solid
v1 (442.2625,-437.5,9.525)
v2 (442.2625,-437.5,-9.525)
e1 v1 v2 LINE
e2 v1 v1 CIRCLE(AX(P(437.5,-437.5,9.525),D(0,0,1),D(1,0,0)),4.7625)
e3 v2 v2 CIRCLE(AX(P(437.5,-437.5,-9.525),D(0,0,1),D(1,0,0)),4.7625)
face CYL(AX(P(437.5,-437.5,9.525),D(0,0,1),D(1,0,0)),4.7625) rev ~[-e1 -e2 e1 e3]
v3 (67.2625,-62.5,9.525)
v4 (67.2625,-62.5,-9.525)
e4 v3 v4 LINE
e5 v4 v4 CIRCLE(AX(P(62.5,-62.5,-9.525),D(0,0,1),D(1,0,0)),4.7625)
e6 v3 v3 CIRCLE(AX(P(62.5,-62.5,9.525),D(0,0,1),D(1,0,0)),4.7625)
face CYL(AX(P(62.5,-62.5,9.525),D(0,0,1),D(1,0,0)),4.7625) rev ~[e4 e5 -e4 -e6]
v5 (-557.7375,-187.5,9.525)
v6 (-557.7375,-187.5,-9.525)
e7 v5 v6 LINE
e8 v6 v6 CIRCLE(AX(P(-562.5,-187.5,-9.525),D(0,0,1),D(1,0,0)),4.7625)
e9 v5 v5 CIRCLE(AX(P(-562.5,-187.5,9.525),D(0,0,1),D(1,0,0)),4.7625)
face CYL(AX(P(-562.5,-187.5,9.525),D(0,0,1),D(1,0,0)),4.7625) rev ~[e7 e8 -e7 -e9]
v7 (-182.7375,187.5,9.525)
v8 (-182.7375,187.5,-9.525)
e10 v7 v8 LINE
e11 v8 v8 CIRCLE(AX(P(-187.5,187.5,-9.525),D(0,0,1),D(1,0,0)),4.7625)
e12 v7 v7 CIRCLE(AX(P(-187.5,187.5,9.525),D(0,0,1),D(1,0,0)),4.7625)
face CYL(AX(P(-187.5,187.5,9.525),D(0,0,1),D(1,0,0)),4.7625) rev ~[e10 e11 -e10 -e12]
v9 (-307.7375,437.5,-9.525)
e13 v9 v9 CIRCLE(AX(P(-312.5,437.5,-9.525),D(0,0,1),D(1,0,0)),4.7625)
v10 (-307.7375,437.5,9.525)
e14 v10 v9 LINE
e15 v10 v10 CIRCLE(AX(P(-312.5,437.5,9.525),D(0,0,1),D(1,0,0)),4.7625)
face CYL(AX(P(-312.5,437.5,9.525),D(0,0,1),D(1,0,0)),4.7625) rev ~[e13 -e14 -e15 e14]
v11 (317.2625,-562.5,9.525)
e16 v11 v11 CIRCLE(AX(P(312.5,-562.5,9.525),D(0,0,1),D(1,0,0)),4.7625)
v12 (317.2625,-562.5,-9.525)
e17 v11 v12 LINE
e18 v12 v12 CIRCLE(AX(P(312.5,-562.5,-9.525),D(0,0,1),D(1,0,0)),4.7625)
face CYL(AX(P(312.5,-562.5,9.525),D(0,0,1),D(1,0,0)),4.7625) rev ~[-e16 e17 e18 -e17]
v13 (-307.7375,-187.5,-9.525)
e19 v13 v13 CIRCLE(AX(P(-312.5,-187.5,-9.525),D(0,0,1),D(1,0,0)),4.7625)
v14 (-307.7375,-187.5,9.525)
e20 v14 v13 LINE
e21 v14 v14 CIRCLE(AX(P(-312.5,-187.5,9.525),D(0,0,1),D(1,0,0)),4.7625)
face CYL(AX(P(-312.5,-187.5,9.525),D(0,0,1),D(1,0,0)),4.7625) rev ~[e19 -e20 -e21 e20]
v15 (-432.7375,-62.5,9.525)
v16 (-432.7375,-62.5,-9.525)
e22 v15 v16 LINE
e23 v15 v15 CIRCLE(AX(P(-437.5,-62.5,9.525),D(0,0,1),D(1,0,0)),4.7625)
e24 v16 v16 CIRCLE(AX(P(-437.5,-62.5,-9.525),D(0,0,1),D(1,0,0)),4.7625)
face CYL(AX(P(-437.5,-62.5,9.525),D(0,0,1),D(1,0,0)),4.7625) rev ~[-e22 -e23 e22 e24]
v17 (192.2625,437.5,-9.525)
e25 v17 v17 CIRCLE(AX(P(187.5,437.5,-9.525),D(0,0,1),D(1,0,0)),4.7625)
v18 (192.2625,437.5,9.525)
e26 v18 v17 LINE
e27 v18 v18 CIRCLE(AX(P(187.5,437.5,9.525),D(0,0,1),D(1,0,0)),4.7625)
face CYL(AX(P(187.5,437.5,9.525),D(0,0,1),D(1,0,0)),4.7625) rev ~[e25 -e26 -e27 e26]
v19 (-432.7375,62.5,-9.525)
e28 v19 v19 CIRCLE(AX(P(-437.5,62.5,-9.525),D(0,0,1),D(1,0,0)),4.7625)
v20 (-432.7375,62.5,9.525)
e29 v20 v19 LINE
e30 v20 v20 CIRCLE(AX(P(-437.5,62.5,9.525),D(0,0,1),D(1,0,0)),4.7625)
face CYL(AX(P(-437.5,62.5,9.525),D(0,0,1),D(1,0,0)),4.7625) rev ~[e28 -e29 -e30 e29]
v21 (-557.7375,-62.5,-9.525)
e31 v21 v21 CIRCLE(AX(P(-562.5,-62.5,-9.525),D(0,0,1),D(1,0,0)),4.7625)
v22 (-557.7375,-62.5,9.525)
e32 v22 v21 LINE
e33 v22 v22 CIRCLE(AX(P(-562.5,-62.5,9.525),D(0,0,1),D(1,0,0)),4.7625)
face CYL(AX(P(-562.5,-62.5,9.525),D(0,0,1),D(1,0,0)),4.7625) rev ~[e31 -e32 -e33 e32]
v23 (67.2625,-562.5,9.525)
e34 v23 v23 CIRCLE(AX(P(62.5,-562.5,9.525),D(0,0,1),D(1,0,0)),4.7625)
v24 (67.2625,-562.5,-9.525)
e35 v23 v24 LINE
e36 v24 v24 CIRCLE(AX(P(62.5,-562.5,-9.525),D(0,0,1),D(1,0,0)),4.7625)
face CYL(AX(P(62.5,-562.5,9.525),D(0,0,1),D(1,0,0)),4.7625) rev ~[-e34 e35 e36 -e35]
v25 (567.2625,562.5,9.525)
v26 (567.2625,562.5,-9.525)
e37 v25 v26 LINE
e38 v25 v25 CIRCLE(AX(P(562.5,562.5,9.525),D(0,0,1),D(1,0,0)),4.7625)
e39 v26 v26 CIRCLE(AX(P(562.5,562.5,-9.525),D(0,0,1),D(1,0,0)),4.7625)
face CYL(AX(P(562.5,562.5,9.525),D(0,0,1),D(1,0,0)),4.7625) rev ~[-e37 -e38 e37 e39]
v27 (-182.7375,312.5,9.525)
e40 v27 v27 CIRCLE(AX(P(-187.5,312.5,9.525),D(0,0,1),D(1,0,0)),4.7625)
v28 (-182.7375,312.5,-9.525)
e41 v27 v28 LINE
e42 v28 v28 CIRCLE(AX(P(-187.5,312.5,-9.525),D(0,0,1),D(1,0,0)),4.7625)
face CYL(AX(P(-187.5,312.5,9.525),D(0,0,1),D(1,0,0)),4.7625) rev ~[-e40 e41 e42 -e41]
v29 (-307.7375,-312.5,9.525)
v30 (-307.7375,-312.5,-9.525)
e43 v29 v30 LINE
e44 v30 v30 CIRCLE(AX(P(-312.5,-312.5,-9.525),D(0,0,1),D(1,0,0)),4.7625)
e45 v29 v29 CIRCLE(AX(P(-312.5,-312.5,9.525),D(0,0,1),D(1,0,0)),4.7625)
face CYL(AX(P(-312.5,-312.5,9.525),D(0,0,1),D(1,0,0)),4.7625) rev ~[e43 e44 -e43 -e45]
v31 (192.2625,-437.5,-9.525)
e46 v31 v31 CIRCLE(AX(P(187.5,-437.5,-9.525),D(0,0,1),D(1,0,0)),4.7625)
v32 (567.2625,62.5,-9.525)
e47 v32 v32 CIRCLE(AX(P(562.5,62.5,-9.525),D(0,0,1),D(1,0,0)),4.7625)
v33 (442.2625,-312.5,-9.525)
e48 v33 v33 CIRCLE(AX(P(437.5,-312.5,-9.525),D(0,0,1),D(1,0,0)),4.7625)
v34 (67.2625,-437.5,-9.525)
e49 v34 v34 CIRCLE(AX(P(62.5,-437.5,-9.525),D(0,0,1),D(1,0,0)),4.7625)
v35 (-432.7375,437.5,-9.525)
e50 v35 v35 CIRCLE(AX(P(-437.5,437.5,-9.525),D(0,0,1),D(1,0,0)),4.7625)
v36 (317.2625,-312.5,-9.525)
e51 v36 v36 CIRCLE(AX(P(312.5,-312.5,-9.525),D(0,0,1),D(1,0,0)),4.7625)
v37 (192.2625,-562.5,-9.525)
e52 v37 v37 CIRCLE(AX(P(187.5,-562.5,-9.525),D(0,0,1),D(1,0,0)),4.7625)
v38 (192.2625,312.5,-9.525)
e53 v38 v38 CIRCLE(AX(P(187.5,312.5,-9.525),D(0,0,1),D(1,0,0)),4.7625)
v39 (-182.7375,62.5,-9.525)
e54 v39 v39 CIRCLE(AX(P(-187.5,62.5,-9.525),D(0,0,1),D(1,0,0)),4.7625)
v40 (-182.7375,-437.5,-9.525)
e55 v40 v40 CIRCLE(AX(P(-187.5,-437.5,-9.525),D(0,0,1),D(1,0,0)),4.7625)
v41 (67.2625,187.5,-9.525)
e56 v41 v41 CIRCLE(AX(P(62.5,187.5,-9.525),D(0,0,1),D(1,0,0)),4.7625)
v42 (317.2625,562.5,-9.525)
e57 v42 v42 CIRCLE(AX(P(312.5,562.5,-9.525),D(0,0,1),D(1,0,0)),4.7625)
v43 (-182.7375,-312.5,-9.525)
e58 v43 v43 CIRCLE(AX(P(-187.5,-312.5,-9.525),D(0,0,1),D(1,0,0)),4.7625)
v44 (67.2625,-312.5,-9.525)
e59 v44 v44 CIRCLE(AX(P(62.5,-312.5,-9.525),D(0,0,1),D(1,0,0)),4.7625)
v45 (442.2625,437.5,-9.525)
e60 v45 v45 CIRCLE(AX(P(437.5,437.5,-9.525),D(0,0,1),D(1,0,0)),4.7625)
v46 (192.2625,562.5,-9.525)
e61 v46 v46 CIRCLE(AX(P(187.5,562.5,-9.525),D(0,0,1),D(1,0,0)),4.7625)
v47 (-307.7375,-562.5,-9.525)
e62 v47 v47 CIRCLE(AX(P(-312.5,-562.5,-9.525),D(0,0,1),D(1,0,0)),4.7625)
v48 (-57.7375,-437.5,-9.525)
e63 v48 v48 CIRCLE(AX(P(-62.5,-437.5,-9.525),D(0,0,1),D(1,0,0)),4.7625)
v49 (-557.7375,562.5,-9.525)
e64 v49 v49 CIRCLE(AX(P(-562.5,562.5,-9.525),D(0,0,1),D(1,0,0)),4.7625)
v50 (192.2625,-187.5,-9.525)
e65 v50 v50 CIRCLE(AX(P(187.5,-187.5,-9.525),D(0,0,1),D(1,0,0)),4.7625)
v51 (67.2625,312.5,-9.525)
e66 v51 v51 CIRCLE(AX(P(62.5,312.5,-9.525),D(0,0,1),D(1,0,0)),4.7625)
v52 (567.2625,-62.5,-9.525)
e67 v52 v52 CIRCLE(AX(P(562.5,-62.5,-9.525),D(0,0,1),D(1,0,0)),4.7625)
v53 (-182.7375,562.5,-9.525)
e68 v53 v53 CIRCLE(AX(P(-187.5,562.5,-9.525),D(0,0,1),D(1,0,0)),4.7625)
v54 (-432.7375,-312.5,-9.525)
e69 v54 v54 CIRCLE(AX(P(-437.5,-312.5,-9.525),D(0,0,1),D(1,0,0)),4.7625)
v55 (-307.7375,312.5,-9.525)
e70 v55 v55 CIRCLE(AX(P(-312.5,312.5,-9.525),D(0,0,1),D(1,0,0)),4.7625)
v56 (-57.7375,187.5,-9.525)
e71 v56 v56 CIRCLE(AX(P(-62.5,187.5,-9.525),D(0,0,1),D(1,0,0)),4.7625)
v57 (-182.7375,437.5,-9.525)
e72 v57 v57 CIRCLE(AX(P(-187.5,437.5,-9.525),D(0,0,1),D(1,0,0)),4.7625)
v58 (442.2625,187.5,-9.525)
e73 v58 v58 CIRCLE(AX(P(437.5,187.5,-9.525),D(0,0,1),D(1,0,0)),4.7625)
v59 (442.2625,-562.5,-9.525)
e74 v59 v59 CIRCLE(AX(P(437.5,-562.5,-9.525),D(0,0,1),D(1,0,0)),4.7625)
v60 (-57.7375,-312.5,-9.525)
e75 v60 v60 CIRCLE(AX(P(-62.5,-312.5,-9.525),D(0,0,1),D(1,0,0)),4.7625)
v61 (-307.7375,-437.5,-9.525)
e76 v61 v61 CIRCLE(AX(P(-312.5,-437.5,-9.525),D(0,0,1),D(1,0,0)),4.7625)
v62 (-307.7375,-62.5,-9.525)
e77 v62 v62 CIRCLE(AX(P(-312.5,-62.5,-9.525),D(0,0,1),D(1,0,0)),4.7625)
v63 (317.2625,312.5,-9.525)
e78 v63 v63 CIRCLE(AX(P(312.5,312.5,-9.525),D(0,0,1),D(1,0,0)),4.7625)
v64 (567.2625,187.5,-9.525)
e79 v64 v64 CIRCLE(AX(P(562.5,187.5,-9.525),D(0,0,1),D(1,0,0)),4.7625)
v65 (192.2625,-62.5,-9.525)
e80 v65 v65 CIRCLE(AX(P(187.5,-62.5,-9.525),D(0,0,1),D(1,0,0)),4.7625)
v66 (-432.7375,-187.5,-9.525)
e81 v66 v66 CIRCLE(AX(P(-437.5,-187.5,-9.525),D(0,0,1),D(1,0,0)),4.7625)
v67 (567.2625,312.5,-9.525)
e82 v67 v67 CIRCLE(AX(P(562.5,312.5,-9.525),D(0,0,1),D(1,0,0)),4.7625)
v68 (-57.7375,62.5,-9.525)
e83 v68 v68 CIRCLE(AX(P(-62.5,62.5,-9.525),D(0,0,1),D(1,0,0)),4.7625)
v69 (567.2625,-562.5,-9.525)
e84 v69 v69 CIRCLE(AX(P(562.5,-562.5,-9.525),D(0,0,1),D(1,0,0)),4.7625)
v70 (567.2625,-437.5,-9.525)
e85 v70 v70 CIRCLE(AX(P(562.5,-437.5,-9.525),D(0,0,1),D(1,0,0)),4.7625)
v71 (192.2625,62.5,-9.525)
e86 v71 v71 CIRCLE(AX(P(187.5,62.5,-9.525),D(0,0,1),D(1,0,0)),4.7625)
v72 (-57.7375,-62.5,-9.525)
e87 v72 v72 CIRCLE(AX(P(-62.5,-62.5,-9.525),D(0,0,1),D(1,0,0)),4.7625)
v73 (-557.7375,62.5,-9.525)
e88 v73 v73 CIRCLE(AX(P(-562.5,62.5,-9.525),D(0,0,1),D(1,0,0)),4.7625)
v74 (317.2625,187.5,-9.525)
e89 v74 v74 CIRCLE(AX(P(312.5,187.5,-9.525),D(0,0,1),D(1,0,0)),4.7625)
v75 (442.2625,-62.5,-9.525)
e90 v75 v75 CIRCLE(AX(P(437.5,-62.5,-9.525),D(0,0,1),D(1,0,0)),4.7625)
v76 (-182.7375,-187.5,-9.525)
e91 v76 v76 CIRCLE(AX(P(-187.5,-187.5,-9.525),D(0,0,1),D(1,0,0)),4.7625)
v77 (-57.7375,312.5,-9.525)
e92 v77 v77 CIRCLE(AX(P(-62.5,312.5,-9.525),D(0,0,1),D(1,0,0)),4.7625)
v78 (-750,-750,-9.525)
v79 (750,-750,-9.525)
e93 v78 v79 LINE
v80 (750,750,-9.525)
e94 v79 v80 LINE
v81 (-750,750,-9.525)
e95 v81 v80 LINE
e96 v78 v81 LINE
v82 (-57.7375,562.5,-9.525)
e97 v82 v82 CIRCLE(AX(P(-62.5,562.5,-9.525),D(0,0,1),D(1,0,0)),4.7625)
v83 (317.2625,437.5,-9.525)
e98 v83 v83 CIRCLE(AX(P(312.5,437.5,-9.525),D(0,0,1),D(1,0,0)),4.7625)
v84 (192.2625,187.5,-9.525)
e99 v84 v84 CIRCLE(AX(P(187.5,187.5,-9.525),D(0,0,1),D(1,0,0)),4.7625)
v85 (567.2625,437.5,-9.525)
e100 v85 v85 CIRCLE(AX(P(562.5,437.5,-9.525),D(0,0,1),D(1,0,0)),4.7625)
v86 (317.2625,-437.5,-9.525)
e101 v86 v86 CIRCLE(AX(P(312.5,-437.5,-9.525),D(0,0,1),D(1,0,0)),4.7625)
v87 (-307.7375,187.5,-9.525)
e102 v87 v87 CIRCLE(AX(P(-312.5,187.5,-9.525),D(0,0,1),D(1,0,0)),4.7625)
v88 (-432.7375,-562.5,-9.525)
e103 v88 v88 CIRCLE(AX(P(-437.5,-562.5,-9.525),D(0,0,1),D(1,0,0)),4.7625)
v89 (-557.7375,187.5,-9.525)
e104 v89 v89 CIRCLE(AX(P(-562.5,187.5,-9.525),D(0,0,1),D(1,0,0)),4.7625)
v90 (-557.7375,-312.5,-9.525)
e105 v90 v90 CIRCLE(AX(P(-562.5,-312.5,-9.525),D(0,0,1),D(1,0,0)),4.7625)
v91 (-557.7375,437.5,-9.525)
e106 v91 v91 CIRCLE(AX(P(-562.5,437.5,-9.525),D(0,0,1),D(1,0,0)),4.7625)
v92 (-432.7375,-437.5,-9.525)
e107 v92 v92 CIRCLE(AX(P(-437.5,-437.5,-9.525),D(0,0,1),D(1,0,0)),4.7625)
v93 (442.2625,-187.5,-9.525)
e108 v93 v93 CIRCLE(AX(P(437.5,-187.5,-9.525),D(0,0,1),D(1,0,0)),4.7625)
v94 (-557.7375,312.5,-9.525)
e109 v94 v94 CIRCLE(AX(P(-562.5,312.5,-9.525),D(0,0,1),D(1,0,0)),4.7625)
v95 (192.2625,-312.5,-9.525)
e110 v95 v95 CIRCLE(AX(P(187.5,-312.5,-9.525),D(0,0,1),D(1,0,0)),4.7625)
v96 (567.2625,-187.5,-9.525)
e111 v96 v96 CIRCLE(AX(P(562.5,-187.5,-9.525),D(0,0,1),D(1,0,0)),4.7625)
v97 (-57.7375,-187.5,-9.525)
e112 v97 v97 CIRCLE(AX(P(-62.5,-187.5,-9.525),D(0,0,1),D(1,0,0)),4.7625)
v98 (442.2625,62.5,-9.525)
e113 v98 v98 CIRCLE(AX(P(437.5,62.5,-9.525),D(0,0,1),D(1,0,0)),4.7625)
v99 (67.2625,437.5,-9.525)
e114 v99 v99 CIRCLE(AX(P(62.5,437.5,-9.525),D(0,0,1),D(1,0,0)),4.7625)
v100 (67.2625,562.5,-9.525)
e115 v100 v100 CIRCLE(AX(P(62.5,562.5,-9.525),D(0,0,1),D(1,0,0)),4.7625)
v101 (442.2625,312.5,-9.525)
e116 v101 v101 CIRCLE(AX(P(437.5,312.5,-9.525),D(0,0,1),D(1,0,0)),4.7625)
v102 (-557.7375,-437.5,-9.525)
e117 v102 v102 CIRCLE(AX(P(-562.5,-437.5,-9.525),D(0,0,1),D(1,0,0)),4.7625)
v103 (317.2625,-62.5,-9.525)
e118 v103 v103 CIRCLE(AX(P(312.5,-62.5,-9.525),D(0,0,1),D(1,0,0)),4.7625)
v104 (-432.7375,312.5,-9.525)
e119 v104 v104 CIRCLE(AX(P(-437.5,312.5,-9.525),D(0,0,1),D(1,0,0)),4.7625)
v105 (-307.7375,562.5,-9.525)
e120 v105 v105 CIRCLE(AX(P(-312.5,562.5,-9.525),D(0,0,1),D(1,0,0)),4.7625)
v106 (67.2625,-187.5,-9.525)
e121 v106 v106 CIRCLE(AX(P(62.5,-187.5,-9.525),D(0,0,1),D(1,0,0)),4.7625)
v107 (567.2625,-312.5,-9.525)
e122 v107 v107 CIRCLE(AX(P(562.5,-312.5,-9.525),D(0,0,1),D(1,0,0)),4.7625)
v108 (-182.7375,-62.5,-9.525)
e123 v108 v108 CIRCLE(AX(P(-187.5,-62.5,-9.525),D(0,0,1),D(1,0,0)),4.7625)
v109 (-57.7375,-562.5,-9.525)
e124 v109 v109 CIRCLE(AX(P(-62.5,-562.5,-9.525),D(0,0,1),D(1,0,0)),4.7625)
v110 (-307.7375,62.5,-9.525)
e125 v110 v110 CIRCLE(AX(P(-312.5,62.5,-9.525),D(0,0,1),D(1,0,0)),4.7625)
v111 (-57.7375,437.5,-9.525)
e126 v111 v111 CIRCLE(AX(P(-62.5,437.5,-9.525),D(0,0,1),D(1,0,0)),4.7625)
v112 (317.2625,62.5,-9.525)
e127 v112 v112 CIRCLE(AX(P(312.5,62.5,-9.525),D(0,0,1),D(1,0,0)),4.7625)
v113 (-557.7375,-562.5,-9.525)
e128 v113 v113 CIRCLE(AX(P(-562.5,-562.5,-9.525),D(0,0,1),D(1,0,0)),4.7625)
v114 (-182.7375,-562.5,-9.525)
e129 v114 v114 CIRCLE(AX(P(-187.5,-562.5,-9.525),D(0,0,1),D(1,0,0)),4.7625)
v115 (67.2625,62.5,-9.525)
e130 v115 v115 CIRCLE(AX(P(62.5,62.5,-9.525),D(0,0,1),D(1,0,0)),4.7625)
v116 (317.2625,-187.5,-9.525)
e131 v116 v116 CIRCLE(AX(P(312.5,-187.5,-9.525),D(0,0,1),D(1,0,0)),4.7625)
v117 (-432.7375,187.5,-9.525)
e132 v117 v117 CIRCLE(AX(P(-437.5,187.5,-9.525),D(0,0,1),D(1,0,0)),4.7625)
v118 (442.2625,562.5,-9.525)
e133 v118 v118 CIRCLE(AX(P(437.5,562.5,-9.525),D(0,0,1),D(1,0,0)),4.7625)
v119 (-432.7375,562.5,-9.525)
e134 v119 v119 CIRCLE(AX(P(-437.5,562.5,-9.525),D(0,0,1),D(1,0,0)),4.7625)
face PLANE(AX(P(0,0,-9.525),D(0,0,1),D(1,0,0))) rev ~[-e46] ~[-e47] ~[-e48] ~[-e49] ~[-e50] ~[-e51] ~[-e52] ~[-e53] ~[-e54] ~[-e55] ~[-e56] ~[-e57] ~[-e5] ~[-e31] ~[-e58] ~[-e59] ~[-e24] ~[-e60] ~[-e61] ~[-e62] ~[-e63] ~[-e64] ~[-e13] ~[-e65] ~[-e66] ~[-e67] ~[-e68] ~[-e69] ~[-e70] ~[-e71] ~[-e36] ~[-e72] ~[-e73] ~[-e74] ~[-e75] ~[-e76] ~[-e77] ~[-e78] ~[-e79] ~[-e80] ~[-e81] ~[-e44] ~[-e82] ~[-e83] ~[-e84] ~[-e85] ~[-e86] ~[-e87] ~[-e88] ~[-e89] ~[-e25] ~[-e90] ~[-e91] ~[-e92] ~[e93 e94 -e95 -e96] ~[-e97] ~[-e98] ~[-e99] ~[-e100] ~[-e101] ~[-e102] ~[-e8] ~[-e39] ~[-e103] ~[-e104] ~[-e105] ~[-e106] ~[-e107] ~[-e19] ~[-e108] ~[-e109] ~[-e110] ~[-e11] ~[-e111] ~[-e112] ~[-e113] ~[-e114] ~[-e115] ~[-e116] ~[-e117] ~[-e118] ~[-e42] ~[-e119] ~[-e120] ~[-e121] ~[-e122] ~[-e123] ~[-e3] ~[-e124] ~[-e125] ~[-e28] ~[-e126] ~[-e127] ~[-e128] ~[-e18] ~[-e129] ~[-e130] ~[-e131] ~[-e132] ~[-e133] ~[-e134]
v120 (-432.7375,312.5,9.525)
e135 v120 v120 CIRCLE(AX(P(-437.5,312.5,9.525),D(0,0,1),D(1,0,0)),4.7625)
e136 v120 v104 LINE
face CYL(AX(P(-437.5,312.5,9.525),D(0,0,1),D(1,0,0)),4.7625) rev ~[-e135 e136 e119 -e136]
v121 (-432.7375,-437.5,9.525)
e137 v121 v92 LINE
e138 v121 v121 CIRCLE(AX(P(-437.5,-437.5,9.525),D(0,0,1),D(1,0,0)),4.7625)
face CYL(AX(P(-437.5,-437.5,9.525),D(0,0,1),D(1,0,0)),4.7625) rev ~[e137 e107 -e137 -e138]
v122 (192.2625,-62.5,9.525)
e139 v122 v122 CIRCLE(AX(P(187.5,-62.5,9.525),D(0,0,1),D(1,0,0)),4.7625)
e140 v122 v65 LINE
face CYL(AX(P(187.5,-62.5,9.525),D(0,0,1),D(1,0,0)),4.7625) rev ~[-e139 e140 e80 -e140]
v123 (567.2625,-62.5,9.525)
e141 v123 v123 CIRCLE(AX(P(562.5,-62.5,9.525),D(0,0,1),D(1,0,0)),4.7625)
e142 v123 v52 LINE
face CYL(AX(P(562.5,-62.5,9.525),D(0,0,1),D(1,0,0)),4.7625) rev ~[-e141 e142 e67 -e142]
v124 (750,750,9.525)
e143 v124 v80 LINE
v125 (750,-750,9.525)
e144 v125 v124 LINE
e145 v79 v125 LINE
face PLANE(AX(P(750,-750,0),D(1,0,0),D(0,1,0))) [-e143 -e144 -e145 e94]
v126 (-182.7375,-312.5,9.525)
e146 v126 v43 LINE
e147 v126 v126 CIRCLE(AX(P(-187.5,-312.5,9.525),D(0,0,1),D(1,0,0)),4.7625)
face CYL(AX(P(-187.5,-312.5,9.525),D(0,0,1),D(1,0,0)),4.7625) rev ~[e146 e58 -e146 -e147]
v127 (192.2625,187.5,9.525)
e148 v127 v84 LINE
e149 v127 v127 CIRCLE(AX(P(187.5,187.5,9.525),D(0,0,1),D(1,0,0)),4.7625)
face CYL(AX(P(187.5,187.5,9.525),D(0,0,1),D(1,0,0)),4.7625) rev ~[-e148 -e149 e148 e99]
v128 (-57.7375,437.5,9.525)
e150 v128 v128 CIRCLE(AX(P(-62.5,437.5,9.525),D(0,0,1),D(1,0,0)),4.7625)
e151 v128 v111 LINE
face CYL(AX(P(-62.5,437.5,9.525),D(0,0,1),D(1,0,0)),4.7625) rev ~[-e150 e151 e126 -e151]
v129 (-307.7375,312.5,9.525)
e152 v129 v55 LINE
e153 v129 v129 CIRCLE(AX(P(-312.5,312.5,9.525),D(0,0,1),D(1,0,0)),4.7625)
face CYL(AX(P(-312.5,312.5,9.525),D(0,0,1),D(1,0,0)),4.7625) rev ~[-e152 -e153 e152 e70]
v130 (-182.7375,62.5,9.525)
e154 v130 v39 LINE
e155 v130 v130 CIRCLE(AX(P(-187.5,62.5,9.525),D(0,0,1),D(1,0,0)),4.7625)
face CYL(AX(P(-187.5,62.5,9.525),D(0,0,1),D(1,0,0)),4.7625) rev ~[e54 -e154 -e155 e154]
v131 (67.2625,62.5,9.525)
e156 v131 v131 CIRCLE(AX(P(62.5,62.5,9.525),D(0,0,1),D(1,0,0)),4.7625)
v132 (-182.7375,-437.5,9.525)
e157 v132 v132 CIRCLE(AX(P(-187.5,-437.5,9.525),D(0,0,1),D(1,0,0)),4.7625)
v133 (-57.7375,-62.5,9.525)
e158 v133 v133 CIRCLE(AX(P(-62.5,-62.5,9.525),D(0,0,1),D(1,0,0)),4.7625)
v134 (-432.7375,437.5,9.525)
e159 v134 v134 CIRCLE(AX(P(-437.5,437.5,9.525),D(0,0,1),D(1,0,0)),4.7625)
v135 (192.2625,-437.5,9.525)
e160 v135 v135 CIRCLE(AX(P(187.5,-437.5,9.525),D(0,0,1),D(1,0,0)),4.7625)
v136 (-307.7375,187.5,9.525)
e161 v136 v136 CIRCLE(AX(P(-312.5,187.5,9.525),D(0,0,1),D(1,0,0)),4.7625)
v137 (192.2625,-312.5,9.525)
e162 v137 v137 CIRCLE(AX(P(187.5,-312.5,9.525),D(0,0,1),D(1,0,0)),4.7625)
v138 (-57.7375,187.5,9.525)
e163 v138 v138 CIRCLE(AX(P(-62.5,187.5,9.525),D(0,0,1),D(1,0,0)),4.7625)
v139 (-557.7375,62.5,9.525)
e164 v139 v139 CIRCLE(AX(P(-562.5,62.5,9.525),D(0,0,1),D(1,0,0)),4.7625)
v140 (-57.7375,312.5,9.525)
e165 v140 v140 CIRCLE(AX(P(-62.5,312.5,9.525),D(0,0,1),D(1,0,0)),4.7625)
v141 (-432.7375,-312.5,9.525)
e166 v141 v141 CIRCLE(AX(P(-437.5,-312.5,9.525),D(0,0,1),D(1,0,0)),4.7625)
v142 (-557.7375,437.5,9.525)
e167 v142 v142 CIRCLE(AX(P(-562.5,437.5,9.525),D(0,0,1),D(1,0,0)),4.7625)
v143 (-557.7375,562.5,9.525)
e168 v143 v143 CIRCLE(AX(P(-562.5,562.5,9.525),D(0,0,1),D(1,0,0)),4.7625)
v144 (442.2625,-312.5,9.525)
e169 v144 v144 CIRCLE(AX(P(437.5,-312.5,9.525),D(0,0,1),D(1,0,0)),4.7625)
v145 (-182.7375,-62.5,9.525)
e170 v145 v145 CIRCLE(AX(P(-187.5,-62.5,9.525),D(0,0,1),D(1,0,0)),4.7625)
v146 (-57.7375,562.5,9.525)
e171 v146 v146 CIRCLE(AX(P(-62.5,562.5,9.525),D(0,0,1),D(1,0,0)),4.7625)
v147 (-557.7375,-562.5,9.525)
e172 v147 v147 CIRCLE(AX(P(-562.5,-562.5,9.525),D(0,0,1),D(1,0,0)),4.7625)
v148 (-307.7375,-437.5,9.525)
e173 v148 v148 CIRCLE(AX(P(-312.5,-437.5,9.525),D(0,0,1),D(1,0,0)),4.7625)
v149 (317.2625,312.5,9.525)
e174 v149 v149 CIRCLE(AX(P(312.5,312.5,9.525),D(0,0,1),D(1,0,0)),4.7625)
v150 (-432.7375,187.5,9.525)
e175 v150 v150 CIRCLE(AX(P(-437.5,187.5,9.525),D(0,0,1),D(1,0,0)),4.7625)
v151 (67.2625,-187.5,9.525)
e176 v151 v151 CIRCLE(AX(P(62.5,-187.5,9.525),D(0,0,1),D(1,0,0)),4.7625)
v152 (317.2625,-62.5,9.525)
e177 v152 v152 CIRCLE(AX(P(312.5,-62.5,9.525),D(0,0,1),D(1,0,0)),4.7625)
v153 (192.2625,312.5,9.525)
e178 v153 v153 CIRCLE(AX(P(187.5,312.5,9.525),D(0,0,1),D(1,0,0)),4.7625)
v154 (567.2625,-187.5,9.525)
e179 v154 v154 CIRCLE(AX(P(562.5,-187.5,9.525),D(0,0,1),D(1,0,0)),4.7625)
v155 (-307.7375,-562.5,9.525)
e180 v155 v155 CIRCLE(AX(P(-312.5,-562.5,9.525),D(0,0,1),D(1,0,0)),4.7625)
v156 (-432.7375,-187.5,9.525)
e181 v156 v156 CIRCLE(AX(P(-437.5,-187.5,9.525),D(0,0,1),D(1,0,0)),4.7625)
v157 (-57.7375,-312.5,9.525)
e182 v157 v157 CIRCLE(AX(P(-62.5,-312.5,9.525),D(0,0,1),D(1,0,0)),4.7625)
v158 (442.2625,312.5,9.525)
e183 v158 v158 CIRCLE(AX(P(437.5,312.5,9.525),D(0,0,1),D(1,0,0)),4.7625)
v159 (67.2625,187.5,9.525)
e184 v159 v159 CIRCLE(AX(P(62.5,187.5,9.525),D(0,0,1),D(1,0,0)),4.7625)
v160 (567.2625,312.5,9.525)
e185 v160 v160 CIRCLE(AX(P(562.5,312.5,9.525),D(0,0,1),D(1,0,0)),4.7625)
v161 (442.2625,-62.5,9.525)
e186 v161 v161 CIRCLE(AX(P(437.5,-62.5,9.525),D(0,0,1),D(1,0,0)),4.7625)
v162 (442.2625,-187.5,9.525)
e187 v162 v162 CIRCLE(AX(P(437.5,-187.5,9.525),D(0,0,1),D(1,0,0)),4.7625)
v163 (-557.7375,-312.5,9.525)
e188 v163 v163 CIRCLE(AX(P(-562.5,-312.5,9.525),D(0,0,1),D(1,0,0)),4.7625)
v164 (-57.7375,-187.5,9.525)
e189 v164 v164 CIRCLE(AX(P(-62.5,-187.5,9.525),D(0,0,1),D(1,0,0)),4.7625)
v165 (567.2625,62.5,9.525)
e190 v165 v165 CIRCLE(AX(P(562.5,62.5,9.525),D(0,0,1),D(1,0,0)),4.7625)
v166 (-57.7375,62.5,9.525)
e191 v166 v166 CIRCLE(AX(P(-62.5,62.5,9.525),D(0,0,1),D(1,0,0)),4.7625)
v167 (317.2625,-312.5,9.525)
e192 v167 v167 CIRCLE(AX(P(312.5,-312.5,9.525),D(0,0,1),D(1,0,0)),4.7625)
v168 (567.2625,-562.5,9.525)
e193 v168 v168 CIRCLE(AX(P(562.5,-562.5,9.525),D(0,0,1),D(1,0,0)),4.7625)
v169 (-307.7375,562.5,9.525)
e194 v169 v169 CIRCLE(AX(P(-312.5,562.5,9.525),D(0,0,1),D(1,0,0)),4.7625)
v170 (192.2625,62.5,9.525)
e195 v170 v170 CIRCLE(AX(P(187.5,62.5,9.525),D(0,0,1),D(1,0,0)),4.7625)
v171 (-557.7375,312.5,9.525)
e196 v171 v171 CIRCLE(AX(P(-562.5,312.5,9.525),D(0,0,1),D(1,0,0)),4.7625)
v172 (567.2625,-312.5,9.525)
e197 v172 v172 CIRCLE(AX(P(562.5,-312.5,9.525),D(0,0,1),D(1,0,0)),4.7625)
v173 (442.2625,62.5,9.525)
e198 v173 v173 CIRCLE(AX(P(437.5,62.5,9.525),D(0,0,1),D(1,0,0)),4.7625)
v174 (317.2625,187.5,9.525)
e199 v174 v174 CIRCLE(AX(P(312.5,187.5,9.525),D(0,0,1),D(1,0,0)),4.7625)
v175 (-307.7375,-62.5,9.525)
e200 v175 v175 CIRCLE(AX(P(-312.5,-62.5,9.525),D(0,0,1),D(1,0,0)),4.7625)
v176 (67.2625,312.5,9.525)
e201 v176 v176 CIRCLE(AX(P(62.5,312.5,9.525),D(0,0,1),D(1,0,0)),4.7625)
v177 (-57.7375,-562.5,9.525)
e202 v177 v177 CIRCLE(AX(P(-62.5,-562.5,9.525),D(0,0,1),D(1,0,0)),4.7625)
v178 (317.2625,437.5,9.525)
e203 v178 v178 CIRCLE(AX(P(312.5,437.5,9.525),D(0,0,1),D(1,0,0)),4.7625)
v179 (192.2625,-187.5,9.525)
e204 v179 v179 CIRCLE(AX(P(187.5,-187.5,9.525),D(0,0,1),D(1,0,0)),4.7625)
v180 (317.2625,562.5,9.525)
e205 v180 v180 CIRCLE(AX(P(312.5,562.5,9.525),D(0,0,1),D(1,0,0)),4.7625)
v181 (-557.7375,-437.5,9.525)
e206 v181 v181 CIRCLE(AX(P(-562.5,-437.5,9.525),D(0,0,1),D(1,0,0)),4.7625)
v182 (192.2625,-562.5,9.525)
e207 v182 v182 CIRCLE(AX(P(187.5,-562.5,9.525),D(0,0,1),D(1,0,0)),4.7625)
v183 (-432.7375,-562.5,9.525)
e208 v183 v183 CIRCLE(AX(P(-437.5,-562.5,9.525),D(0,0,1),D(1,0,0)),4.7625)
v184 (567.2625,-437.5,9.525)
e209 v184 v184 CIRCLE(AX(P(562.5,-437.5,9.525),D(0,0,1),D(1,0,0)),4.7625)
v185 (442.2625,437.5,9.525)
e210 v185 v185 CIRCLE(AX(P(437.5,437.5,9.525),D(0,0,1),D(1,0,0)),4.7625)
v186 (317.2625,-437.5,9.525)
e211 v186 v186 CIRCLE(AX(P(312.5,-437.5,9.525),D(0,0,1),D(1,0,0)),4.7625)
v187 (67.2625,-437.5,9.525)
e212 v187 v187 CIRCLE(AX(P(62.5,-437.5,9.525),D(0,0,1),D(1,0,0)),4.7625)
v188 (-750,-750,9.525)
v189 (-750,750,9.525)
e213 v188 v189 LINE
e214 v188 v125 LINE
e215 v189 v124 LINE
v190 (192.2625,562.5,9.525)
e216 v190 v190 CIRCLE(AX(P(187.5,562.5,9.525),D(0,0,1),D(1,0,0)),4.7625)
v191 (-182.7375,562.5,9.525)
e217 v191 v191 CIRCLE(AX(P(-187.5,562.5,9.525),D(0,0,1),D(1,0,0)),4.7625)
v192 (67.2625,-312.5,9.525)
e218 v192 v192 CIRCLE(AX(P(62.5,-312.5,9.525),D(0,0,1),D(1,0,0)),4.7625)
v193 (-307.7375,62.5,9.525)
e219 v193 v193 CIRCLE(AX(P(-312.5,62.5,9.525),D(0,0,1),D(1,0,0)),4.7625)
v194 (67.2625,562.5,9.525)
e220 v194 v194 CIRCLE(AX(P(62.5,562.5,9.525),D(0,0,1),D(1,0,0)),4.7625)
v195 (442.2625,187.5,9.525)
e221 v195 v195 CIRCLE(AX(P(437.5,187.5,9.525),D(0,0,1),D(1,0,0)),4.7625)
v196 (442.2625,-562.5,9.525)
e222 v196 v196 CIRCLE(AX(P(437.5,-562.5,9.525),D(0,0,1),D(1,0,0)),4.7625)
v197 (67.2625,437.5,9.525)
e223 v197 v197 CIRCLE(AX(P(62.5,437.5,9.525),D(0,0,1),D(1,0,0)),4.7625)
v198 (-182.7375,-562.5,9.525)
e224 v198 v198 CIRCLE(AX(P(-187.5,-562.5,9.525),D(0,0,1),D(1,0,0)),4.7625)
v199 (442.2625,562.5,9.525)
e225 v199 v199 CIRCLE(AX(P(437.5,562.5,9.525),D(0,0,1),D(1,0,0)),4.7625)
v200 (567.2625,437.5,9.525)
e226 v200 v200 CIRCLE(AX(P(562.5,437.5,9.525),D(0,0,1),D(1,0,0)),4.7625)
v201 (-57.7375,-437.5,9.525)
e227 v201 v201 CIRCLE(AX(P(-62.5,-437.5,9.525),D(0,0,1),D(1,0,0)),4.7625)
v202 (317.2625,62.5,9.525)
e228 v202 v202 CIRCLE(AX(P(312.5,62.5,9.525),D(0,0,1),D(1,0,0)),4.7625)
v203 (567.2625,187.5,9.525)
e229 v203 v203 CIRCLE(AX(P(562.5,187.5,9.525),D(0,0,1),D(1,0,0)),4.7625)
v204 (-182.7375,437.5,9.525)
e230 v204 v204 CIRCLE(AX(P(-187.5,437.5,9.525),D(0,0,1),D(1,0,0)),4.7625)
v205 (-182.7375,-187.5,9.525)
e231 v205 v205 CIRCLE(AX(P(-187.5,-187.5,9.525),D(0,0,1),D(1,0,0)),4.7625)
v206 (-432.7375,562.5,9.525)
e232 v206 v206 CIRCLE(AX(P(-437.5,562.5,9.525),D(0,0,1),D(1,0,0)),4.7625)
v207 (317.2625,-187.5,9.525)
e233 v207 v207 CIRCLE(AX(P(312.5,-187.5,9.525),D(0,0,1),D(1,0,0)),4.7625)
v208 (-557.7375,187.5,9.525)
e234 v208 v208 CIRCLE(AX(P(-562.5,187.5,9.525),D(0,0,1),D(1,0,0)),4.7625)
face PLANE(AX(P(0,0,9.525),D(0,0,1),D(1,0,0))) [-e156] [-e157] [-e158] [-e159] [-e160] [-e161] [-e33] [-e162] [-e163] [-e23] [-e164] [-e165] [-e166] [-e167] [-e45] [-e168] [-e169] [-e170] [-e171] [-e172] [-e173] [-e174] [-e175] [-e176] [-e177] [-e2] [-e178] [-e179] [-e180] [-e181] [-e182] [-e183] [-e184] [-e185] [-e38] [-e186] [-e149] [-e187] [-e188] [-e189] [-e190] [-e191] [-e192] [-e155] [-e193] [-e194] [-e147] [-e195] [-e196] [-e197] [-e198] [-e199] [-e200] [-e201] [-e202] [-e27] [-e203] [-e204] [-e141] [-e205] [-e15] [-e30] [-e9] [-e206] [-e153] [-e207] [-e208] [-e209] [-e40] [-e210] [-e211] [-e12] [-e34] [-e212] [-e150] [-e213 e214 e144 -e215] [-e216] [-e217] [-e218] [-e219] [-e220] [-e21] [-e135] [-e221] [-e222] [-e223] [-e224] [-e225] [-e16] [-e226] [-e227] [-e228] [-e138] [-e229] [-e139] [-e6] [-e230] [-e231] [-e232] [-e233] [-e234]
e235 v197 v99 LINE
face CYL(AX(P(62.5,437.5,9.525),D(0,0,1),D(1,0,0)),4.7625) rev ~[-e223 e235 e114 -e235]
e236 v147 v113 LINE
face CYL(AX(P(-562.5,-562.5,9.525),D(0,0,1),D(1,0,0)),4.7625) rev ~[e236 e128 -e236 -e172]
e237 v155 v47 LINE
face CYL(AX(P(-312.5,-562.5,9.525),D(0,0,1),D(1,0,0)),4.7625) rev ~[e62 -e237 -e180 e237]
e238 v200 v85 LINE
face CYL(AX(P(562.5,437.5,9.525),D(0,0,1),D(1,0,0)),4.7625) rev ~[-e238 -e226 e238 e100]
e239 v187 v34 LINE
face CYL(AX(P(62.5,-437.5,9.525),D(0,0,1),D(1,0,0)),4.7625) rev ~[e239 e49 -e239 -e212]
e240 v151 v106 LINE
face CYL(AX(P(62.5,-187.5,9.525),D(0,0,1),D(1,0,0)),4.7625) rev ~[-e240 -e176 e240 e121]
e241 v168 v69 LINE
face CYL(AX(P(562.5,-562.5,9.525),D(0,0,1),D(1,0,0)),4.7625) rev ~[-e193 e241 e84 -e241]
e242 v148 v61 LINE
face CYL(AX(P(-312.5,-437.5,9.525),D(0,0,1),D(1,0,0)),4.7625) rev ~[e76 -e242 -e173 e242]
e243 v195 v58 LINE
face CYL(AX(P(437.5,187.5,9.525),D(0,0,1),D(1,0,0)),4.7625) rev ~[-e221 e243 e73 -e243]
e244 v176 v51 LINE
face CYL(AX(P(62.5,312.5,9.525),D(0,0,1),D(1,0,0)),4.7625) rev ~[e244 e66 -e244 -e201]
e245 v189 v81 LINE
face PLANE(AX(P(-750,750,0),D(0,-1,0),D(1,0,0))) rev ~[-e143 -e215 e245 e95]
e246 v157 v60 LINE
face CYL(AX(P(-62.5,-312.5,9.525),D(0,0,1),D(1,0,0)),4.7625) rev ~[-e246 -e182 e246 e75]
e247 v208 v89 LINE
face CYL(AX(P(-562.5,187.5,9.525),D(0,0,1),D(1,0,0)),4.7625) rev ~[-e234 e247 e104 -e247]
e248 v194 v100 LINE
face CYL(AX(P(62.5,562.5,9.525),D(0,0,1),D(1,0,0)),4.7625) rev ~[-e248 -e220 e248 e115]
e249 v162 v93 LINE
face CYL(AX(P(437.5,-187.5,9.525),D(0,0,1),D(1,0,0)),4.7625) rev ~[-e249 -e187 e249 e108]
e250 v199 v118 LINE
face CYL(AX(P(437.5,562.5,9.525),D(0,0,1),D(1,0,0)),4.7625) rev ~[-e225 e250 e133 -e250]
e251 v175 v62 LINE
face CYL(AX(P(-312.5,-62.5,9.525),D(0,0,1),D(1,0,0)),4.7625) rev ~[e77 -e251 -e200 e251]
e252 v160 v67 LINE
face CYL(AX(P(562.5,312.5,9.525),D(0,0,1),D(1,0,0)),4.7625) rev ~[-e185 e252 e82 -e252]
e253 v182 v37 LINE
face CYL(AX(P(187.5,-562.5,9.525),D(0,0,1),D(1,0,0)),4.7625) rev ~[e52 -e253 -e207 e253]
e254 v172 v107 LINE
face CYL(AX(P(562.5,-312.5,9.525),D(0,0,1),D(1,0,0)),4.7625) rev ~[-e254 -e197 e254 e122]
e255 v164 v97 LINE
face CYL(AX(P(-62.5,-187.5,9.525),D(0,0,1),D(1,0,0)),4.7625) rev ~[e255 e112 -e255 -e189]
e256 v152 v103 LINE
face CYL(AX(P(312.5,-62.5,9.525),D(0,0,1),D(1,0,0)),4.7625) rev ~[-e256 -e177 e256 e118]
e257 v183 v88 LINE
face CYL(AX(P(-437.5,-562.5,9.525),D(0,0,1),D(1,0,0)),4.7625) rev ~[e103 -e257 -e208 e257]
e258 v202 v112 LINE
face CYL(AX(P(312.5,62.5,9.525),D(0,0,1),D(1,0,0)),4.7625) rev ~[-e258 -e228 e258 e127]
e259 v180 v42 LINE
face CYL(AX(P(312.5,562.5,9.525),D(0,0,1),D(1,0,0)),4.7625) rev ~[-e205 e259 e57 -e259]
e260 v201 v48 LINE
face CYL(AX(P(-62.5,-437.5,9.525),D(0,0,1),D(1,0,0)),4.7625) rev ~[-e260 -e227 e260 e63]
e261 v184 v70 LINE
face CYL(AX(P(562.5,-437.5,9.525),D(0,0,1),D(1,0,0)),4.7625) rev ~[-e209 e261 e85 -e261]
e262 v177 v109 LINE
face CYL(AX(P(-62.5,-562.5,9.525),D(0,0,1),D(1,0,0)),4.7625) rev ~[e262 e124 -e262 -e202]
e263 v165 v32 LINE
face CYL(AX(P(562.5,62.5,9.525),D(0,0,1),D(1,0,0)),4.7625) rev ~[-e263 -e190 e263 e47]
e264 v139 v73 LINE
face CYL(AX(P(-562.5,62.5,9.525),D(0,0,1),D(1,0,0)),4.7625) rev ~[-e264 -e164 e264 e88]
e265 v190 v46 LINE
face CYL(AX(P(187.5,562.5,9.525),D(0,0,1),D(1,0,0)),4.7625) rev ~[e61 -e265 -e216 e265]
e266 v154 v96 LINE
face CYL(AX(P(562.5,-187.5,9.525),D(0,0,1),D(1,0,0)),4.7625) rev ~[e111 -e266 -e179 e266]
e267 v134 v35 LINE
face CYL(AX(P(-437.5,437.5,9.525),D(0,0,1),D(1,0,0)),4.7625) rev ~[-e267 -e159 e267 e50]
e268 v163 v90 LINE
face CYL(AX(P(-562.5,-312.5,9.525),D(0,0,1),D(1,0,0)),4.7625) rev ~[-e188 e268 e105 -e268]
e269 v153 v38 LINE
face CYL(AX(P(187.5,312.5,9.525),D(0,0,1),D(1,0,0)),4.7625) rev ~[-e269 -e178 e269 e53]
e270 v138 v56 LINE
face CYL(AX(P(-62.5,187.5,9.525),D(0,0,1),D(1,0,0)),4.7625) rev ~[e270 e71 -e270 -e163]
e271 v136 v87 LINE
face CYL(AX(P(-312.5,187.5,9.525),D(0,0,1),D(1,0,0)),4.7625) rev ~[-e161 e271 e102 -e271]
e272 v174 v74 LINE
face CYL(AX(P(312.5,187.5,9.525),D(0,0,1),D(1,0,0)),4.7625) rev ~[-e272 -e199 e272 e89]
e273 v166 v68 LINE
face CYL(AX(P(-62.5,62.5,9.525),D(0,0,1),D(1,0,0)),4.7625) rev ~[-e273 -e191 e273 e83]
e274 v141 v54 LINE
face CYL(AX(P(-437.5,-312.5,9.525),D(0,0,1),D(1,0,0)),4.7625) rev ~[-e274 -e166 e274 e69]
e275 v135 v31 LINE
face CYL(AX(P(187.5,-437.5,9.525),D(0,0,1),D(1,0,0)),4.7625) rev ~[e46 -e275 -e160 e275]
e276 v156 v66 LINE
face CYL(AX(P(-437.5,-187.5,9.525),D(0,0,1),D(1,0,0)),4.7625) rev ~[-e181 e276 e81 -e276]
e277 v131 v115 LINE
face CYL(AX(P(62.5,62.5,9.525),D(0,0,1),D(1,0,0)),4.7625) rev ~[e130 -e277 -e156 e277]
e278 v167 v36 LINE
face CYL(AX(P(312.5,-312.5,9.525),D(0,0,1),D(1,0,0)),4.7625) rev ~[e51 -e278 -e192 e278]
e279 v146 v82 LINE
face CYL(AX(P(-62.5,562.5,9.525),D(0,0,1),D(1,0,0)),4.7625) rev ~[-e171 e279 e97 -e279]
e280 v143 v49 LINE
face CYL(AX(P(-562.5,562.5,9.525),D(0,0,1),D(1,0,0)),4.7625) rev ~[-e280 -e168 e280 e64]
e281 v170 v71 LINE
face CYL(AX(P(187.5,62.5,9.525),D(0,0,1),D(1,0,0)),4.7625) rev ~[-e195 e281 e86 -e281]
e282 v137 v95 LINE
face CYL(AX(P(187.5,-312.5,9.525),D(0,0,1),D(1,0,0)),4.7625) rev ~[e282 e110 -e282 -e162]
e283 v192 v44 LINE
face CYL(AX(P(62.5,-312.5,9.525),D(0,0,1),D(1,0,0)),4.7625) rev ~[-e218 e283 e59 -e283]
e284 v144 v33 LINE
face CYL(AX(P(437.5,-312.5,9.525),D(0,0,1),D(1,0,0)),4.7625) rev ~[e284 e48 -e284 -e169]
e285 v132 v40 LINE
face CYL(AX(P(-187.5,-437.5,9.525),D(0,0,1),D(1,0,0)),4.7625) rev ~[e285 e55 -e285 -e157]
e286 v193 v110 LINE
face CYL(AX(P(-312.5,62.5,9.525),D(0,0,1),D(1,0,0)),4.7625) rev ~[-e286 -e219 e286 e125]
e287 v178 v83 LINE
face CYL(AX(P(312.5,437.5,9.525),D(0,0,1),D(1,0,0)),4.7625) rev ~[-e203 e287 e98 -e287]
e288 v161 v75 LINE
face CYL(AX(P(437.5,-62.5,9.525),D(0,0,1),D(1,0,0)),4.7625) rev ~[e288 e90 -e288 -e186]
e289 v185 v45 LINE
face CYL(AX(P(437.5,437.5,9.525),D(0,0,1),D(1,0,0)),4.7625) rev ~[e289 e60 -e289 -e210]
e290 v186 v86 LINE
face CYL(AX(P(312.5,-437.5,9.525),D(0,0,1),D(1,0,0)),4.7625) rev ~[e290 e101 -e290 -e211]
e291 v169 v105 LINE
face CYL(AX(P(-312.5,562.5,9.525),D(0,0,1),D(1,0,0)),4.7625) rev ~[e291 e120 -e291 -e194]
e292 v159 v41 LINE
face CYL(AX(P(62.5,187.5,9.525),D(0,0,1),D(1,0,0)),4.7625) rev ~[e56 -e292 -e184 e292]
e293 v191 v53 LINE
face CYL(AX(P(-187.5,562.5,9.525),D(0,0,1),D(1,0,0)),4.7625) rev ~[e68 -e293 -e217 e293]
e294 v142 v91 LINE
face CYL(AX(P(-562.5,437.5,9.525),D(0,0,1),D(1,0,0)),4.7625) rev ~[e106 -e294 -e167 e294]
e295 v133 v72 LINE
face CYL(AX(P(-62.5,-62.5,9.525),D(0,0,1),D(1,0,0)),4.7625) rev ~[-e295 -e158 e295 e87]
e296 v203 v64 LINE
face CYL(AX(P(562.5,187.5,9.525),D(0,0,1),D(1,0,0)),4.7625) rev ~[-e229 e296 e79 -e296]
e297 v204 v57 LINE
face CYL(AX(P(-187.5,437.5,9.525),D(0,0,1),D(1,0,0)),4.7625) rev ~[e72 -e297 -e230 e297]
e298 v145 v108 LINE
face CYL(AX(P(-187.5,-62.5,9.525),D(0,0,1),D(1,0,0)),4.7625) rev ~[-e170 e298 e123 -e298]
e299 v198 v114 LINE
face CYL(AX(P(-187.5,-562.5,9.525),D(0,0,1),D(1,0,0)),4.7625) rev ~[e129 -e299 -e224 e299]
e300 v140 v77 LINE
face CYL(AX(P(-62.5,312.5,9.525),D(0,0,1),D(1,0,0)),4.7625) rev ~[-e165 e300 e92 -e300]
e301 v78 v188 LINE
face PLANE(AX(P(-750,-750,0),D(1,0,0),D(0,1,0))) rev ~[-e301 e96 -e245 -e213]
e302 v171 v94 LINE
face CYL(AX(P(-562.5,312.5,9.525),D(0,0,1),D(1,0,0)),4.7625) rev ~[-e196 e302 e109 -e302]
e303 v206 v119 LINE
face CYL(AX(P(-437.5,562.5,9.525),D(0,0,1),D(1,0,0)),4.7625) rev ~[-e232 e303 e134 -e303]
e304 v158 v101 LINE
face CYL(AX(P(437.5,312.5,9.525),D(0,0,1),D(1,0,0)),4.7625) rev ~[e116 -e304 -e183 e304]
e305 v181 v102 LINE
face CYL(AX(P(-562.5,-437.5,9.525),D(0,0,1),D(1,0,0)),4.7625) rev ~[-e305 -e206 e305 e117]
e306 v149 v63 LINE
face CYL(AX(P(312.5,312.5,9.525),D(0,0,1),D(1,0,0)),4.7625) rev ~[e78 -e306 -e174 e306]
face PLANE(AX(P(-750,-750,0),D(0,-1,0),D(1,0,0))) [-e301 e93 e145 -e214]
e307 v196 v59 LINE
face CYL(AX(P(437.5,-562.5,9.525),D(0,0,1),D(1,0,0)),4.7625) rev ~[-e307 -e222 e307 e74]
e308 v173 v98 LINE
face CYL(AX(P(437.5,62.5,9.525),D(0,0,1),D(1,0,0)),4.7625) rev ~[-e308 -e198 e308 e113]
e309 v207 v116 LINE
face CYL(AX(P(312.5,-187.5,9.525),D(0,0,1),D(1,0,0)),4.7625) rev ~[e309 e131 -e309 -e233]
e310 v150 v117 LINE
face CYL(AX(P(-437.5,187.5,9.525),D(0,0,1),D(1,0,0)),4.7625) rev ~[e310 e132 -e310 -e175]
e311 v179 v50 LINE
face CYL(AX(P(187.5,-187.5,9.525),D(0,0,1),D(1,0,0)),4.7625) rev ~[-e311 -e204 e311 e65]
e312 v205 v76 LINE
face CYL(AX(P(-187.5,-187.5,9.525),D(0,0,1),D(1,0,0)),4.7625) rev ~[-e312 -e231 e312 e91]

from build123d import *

# Parameters (mm, degrees)
SKETCH1_W            = 1500
SKETCH1_H            = 1500
BOSS_EXTRUDE1_DEPTH  = 9.525
SKETCH2_R            = 4.7625
CUT_EXTRUDE1_DEPTH   = 1061.831231865
LPATTERN1_COUNT      = 10
LPATTERN1_PITCH      = 125
LPATTERN1_COUNT_DIR2 = 10
LPATTERN1_PITCH_DIR2 = 125


with BuildPart() as part:
    # Sketch1 → Boss-Extrude1 (new, symmetric)
    with BuildSketch(Plane.XY):
        Rectangle(SKETCH1_W, SKETCH1_H)
    extrude(amount=BOSS_EXTRUDE1_DEPTH, both=True)

    # Sketch2 → Cut-Extrude1 (cut, through all)
    with BuildSketch(Plane.XY.offset(9.525)):
        with Locations((-562.5, 562.5)):
            Circle(SKETCH2_R)
    cut_extrude1 = extrude(amount=-CUT_EXTRUDE1_DEPTH, mode=Mode.SUBTRACT)

    # LPattern1: Cut-Extrude1 10 × 10
    with Locations(*[(j * LPATTERN1_PITCH_DIR2, -i * LPATTERN1_PITCH, 0) for i in range(LPATTERN1_COUNT) for j in range(LPATTERN1_COUNT_DIR2) if (i, j) != (0, 0)]):
        add(cut_extrude1, mode=Mode.SUBTRACT)


solid = part.part
